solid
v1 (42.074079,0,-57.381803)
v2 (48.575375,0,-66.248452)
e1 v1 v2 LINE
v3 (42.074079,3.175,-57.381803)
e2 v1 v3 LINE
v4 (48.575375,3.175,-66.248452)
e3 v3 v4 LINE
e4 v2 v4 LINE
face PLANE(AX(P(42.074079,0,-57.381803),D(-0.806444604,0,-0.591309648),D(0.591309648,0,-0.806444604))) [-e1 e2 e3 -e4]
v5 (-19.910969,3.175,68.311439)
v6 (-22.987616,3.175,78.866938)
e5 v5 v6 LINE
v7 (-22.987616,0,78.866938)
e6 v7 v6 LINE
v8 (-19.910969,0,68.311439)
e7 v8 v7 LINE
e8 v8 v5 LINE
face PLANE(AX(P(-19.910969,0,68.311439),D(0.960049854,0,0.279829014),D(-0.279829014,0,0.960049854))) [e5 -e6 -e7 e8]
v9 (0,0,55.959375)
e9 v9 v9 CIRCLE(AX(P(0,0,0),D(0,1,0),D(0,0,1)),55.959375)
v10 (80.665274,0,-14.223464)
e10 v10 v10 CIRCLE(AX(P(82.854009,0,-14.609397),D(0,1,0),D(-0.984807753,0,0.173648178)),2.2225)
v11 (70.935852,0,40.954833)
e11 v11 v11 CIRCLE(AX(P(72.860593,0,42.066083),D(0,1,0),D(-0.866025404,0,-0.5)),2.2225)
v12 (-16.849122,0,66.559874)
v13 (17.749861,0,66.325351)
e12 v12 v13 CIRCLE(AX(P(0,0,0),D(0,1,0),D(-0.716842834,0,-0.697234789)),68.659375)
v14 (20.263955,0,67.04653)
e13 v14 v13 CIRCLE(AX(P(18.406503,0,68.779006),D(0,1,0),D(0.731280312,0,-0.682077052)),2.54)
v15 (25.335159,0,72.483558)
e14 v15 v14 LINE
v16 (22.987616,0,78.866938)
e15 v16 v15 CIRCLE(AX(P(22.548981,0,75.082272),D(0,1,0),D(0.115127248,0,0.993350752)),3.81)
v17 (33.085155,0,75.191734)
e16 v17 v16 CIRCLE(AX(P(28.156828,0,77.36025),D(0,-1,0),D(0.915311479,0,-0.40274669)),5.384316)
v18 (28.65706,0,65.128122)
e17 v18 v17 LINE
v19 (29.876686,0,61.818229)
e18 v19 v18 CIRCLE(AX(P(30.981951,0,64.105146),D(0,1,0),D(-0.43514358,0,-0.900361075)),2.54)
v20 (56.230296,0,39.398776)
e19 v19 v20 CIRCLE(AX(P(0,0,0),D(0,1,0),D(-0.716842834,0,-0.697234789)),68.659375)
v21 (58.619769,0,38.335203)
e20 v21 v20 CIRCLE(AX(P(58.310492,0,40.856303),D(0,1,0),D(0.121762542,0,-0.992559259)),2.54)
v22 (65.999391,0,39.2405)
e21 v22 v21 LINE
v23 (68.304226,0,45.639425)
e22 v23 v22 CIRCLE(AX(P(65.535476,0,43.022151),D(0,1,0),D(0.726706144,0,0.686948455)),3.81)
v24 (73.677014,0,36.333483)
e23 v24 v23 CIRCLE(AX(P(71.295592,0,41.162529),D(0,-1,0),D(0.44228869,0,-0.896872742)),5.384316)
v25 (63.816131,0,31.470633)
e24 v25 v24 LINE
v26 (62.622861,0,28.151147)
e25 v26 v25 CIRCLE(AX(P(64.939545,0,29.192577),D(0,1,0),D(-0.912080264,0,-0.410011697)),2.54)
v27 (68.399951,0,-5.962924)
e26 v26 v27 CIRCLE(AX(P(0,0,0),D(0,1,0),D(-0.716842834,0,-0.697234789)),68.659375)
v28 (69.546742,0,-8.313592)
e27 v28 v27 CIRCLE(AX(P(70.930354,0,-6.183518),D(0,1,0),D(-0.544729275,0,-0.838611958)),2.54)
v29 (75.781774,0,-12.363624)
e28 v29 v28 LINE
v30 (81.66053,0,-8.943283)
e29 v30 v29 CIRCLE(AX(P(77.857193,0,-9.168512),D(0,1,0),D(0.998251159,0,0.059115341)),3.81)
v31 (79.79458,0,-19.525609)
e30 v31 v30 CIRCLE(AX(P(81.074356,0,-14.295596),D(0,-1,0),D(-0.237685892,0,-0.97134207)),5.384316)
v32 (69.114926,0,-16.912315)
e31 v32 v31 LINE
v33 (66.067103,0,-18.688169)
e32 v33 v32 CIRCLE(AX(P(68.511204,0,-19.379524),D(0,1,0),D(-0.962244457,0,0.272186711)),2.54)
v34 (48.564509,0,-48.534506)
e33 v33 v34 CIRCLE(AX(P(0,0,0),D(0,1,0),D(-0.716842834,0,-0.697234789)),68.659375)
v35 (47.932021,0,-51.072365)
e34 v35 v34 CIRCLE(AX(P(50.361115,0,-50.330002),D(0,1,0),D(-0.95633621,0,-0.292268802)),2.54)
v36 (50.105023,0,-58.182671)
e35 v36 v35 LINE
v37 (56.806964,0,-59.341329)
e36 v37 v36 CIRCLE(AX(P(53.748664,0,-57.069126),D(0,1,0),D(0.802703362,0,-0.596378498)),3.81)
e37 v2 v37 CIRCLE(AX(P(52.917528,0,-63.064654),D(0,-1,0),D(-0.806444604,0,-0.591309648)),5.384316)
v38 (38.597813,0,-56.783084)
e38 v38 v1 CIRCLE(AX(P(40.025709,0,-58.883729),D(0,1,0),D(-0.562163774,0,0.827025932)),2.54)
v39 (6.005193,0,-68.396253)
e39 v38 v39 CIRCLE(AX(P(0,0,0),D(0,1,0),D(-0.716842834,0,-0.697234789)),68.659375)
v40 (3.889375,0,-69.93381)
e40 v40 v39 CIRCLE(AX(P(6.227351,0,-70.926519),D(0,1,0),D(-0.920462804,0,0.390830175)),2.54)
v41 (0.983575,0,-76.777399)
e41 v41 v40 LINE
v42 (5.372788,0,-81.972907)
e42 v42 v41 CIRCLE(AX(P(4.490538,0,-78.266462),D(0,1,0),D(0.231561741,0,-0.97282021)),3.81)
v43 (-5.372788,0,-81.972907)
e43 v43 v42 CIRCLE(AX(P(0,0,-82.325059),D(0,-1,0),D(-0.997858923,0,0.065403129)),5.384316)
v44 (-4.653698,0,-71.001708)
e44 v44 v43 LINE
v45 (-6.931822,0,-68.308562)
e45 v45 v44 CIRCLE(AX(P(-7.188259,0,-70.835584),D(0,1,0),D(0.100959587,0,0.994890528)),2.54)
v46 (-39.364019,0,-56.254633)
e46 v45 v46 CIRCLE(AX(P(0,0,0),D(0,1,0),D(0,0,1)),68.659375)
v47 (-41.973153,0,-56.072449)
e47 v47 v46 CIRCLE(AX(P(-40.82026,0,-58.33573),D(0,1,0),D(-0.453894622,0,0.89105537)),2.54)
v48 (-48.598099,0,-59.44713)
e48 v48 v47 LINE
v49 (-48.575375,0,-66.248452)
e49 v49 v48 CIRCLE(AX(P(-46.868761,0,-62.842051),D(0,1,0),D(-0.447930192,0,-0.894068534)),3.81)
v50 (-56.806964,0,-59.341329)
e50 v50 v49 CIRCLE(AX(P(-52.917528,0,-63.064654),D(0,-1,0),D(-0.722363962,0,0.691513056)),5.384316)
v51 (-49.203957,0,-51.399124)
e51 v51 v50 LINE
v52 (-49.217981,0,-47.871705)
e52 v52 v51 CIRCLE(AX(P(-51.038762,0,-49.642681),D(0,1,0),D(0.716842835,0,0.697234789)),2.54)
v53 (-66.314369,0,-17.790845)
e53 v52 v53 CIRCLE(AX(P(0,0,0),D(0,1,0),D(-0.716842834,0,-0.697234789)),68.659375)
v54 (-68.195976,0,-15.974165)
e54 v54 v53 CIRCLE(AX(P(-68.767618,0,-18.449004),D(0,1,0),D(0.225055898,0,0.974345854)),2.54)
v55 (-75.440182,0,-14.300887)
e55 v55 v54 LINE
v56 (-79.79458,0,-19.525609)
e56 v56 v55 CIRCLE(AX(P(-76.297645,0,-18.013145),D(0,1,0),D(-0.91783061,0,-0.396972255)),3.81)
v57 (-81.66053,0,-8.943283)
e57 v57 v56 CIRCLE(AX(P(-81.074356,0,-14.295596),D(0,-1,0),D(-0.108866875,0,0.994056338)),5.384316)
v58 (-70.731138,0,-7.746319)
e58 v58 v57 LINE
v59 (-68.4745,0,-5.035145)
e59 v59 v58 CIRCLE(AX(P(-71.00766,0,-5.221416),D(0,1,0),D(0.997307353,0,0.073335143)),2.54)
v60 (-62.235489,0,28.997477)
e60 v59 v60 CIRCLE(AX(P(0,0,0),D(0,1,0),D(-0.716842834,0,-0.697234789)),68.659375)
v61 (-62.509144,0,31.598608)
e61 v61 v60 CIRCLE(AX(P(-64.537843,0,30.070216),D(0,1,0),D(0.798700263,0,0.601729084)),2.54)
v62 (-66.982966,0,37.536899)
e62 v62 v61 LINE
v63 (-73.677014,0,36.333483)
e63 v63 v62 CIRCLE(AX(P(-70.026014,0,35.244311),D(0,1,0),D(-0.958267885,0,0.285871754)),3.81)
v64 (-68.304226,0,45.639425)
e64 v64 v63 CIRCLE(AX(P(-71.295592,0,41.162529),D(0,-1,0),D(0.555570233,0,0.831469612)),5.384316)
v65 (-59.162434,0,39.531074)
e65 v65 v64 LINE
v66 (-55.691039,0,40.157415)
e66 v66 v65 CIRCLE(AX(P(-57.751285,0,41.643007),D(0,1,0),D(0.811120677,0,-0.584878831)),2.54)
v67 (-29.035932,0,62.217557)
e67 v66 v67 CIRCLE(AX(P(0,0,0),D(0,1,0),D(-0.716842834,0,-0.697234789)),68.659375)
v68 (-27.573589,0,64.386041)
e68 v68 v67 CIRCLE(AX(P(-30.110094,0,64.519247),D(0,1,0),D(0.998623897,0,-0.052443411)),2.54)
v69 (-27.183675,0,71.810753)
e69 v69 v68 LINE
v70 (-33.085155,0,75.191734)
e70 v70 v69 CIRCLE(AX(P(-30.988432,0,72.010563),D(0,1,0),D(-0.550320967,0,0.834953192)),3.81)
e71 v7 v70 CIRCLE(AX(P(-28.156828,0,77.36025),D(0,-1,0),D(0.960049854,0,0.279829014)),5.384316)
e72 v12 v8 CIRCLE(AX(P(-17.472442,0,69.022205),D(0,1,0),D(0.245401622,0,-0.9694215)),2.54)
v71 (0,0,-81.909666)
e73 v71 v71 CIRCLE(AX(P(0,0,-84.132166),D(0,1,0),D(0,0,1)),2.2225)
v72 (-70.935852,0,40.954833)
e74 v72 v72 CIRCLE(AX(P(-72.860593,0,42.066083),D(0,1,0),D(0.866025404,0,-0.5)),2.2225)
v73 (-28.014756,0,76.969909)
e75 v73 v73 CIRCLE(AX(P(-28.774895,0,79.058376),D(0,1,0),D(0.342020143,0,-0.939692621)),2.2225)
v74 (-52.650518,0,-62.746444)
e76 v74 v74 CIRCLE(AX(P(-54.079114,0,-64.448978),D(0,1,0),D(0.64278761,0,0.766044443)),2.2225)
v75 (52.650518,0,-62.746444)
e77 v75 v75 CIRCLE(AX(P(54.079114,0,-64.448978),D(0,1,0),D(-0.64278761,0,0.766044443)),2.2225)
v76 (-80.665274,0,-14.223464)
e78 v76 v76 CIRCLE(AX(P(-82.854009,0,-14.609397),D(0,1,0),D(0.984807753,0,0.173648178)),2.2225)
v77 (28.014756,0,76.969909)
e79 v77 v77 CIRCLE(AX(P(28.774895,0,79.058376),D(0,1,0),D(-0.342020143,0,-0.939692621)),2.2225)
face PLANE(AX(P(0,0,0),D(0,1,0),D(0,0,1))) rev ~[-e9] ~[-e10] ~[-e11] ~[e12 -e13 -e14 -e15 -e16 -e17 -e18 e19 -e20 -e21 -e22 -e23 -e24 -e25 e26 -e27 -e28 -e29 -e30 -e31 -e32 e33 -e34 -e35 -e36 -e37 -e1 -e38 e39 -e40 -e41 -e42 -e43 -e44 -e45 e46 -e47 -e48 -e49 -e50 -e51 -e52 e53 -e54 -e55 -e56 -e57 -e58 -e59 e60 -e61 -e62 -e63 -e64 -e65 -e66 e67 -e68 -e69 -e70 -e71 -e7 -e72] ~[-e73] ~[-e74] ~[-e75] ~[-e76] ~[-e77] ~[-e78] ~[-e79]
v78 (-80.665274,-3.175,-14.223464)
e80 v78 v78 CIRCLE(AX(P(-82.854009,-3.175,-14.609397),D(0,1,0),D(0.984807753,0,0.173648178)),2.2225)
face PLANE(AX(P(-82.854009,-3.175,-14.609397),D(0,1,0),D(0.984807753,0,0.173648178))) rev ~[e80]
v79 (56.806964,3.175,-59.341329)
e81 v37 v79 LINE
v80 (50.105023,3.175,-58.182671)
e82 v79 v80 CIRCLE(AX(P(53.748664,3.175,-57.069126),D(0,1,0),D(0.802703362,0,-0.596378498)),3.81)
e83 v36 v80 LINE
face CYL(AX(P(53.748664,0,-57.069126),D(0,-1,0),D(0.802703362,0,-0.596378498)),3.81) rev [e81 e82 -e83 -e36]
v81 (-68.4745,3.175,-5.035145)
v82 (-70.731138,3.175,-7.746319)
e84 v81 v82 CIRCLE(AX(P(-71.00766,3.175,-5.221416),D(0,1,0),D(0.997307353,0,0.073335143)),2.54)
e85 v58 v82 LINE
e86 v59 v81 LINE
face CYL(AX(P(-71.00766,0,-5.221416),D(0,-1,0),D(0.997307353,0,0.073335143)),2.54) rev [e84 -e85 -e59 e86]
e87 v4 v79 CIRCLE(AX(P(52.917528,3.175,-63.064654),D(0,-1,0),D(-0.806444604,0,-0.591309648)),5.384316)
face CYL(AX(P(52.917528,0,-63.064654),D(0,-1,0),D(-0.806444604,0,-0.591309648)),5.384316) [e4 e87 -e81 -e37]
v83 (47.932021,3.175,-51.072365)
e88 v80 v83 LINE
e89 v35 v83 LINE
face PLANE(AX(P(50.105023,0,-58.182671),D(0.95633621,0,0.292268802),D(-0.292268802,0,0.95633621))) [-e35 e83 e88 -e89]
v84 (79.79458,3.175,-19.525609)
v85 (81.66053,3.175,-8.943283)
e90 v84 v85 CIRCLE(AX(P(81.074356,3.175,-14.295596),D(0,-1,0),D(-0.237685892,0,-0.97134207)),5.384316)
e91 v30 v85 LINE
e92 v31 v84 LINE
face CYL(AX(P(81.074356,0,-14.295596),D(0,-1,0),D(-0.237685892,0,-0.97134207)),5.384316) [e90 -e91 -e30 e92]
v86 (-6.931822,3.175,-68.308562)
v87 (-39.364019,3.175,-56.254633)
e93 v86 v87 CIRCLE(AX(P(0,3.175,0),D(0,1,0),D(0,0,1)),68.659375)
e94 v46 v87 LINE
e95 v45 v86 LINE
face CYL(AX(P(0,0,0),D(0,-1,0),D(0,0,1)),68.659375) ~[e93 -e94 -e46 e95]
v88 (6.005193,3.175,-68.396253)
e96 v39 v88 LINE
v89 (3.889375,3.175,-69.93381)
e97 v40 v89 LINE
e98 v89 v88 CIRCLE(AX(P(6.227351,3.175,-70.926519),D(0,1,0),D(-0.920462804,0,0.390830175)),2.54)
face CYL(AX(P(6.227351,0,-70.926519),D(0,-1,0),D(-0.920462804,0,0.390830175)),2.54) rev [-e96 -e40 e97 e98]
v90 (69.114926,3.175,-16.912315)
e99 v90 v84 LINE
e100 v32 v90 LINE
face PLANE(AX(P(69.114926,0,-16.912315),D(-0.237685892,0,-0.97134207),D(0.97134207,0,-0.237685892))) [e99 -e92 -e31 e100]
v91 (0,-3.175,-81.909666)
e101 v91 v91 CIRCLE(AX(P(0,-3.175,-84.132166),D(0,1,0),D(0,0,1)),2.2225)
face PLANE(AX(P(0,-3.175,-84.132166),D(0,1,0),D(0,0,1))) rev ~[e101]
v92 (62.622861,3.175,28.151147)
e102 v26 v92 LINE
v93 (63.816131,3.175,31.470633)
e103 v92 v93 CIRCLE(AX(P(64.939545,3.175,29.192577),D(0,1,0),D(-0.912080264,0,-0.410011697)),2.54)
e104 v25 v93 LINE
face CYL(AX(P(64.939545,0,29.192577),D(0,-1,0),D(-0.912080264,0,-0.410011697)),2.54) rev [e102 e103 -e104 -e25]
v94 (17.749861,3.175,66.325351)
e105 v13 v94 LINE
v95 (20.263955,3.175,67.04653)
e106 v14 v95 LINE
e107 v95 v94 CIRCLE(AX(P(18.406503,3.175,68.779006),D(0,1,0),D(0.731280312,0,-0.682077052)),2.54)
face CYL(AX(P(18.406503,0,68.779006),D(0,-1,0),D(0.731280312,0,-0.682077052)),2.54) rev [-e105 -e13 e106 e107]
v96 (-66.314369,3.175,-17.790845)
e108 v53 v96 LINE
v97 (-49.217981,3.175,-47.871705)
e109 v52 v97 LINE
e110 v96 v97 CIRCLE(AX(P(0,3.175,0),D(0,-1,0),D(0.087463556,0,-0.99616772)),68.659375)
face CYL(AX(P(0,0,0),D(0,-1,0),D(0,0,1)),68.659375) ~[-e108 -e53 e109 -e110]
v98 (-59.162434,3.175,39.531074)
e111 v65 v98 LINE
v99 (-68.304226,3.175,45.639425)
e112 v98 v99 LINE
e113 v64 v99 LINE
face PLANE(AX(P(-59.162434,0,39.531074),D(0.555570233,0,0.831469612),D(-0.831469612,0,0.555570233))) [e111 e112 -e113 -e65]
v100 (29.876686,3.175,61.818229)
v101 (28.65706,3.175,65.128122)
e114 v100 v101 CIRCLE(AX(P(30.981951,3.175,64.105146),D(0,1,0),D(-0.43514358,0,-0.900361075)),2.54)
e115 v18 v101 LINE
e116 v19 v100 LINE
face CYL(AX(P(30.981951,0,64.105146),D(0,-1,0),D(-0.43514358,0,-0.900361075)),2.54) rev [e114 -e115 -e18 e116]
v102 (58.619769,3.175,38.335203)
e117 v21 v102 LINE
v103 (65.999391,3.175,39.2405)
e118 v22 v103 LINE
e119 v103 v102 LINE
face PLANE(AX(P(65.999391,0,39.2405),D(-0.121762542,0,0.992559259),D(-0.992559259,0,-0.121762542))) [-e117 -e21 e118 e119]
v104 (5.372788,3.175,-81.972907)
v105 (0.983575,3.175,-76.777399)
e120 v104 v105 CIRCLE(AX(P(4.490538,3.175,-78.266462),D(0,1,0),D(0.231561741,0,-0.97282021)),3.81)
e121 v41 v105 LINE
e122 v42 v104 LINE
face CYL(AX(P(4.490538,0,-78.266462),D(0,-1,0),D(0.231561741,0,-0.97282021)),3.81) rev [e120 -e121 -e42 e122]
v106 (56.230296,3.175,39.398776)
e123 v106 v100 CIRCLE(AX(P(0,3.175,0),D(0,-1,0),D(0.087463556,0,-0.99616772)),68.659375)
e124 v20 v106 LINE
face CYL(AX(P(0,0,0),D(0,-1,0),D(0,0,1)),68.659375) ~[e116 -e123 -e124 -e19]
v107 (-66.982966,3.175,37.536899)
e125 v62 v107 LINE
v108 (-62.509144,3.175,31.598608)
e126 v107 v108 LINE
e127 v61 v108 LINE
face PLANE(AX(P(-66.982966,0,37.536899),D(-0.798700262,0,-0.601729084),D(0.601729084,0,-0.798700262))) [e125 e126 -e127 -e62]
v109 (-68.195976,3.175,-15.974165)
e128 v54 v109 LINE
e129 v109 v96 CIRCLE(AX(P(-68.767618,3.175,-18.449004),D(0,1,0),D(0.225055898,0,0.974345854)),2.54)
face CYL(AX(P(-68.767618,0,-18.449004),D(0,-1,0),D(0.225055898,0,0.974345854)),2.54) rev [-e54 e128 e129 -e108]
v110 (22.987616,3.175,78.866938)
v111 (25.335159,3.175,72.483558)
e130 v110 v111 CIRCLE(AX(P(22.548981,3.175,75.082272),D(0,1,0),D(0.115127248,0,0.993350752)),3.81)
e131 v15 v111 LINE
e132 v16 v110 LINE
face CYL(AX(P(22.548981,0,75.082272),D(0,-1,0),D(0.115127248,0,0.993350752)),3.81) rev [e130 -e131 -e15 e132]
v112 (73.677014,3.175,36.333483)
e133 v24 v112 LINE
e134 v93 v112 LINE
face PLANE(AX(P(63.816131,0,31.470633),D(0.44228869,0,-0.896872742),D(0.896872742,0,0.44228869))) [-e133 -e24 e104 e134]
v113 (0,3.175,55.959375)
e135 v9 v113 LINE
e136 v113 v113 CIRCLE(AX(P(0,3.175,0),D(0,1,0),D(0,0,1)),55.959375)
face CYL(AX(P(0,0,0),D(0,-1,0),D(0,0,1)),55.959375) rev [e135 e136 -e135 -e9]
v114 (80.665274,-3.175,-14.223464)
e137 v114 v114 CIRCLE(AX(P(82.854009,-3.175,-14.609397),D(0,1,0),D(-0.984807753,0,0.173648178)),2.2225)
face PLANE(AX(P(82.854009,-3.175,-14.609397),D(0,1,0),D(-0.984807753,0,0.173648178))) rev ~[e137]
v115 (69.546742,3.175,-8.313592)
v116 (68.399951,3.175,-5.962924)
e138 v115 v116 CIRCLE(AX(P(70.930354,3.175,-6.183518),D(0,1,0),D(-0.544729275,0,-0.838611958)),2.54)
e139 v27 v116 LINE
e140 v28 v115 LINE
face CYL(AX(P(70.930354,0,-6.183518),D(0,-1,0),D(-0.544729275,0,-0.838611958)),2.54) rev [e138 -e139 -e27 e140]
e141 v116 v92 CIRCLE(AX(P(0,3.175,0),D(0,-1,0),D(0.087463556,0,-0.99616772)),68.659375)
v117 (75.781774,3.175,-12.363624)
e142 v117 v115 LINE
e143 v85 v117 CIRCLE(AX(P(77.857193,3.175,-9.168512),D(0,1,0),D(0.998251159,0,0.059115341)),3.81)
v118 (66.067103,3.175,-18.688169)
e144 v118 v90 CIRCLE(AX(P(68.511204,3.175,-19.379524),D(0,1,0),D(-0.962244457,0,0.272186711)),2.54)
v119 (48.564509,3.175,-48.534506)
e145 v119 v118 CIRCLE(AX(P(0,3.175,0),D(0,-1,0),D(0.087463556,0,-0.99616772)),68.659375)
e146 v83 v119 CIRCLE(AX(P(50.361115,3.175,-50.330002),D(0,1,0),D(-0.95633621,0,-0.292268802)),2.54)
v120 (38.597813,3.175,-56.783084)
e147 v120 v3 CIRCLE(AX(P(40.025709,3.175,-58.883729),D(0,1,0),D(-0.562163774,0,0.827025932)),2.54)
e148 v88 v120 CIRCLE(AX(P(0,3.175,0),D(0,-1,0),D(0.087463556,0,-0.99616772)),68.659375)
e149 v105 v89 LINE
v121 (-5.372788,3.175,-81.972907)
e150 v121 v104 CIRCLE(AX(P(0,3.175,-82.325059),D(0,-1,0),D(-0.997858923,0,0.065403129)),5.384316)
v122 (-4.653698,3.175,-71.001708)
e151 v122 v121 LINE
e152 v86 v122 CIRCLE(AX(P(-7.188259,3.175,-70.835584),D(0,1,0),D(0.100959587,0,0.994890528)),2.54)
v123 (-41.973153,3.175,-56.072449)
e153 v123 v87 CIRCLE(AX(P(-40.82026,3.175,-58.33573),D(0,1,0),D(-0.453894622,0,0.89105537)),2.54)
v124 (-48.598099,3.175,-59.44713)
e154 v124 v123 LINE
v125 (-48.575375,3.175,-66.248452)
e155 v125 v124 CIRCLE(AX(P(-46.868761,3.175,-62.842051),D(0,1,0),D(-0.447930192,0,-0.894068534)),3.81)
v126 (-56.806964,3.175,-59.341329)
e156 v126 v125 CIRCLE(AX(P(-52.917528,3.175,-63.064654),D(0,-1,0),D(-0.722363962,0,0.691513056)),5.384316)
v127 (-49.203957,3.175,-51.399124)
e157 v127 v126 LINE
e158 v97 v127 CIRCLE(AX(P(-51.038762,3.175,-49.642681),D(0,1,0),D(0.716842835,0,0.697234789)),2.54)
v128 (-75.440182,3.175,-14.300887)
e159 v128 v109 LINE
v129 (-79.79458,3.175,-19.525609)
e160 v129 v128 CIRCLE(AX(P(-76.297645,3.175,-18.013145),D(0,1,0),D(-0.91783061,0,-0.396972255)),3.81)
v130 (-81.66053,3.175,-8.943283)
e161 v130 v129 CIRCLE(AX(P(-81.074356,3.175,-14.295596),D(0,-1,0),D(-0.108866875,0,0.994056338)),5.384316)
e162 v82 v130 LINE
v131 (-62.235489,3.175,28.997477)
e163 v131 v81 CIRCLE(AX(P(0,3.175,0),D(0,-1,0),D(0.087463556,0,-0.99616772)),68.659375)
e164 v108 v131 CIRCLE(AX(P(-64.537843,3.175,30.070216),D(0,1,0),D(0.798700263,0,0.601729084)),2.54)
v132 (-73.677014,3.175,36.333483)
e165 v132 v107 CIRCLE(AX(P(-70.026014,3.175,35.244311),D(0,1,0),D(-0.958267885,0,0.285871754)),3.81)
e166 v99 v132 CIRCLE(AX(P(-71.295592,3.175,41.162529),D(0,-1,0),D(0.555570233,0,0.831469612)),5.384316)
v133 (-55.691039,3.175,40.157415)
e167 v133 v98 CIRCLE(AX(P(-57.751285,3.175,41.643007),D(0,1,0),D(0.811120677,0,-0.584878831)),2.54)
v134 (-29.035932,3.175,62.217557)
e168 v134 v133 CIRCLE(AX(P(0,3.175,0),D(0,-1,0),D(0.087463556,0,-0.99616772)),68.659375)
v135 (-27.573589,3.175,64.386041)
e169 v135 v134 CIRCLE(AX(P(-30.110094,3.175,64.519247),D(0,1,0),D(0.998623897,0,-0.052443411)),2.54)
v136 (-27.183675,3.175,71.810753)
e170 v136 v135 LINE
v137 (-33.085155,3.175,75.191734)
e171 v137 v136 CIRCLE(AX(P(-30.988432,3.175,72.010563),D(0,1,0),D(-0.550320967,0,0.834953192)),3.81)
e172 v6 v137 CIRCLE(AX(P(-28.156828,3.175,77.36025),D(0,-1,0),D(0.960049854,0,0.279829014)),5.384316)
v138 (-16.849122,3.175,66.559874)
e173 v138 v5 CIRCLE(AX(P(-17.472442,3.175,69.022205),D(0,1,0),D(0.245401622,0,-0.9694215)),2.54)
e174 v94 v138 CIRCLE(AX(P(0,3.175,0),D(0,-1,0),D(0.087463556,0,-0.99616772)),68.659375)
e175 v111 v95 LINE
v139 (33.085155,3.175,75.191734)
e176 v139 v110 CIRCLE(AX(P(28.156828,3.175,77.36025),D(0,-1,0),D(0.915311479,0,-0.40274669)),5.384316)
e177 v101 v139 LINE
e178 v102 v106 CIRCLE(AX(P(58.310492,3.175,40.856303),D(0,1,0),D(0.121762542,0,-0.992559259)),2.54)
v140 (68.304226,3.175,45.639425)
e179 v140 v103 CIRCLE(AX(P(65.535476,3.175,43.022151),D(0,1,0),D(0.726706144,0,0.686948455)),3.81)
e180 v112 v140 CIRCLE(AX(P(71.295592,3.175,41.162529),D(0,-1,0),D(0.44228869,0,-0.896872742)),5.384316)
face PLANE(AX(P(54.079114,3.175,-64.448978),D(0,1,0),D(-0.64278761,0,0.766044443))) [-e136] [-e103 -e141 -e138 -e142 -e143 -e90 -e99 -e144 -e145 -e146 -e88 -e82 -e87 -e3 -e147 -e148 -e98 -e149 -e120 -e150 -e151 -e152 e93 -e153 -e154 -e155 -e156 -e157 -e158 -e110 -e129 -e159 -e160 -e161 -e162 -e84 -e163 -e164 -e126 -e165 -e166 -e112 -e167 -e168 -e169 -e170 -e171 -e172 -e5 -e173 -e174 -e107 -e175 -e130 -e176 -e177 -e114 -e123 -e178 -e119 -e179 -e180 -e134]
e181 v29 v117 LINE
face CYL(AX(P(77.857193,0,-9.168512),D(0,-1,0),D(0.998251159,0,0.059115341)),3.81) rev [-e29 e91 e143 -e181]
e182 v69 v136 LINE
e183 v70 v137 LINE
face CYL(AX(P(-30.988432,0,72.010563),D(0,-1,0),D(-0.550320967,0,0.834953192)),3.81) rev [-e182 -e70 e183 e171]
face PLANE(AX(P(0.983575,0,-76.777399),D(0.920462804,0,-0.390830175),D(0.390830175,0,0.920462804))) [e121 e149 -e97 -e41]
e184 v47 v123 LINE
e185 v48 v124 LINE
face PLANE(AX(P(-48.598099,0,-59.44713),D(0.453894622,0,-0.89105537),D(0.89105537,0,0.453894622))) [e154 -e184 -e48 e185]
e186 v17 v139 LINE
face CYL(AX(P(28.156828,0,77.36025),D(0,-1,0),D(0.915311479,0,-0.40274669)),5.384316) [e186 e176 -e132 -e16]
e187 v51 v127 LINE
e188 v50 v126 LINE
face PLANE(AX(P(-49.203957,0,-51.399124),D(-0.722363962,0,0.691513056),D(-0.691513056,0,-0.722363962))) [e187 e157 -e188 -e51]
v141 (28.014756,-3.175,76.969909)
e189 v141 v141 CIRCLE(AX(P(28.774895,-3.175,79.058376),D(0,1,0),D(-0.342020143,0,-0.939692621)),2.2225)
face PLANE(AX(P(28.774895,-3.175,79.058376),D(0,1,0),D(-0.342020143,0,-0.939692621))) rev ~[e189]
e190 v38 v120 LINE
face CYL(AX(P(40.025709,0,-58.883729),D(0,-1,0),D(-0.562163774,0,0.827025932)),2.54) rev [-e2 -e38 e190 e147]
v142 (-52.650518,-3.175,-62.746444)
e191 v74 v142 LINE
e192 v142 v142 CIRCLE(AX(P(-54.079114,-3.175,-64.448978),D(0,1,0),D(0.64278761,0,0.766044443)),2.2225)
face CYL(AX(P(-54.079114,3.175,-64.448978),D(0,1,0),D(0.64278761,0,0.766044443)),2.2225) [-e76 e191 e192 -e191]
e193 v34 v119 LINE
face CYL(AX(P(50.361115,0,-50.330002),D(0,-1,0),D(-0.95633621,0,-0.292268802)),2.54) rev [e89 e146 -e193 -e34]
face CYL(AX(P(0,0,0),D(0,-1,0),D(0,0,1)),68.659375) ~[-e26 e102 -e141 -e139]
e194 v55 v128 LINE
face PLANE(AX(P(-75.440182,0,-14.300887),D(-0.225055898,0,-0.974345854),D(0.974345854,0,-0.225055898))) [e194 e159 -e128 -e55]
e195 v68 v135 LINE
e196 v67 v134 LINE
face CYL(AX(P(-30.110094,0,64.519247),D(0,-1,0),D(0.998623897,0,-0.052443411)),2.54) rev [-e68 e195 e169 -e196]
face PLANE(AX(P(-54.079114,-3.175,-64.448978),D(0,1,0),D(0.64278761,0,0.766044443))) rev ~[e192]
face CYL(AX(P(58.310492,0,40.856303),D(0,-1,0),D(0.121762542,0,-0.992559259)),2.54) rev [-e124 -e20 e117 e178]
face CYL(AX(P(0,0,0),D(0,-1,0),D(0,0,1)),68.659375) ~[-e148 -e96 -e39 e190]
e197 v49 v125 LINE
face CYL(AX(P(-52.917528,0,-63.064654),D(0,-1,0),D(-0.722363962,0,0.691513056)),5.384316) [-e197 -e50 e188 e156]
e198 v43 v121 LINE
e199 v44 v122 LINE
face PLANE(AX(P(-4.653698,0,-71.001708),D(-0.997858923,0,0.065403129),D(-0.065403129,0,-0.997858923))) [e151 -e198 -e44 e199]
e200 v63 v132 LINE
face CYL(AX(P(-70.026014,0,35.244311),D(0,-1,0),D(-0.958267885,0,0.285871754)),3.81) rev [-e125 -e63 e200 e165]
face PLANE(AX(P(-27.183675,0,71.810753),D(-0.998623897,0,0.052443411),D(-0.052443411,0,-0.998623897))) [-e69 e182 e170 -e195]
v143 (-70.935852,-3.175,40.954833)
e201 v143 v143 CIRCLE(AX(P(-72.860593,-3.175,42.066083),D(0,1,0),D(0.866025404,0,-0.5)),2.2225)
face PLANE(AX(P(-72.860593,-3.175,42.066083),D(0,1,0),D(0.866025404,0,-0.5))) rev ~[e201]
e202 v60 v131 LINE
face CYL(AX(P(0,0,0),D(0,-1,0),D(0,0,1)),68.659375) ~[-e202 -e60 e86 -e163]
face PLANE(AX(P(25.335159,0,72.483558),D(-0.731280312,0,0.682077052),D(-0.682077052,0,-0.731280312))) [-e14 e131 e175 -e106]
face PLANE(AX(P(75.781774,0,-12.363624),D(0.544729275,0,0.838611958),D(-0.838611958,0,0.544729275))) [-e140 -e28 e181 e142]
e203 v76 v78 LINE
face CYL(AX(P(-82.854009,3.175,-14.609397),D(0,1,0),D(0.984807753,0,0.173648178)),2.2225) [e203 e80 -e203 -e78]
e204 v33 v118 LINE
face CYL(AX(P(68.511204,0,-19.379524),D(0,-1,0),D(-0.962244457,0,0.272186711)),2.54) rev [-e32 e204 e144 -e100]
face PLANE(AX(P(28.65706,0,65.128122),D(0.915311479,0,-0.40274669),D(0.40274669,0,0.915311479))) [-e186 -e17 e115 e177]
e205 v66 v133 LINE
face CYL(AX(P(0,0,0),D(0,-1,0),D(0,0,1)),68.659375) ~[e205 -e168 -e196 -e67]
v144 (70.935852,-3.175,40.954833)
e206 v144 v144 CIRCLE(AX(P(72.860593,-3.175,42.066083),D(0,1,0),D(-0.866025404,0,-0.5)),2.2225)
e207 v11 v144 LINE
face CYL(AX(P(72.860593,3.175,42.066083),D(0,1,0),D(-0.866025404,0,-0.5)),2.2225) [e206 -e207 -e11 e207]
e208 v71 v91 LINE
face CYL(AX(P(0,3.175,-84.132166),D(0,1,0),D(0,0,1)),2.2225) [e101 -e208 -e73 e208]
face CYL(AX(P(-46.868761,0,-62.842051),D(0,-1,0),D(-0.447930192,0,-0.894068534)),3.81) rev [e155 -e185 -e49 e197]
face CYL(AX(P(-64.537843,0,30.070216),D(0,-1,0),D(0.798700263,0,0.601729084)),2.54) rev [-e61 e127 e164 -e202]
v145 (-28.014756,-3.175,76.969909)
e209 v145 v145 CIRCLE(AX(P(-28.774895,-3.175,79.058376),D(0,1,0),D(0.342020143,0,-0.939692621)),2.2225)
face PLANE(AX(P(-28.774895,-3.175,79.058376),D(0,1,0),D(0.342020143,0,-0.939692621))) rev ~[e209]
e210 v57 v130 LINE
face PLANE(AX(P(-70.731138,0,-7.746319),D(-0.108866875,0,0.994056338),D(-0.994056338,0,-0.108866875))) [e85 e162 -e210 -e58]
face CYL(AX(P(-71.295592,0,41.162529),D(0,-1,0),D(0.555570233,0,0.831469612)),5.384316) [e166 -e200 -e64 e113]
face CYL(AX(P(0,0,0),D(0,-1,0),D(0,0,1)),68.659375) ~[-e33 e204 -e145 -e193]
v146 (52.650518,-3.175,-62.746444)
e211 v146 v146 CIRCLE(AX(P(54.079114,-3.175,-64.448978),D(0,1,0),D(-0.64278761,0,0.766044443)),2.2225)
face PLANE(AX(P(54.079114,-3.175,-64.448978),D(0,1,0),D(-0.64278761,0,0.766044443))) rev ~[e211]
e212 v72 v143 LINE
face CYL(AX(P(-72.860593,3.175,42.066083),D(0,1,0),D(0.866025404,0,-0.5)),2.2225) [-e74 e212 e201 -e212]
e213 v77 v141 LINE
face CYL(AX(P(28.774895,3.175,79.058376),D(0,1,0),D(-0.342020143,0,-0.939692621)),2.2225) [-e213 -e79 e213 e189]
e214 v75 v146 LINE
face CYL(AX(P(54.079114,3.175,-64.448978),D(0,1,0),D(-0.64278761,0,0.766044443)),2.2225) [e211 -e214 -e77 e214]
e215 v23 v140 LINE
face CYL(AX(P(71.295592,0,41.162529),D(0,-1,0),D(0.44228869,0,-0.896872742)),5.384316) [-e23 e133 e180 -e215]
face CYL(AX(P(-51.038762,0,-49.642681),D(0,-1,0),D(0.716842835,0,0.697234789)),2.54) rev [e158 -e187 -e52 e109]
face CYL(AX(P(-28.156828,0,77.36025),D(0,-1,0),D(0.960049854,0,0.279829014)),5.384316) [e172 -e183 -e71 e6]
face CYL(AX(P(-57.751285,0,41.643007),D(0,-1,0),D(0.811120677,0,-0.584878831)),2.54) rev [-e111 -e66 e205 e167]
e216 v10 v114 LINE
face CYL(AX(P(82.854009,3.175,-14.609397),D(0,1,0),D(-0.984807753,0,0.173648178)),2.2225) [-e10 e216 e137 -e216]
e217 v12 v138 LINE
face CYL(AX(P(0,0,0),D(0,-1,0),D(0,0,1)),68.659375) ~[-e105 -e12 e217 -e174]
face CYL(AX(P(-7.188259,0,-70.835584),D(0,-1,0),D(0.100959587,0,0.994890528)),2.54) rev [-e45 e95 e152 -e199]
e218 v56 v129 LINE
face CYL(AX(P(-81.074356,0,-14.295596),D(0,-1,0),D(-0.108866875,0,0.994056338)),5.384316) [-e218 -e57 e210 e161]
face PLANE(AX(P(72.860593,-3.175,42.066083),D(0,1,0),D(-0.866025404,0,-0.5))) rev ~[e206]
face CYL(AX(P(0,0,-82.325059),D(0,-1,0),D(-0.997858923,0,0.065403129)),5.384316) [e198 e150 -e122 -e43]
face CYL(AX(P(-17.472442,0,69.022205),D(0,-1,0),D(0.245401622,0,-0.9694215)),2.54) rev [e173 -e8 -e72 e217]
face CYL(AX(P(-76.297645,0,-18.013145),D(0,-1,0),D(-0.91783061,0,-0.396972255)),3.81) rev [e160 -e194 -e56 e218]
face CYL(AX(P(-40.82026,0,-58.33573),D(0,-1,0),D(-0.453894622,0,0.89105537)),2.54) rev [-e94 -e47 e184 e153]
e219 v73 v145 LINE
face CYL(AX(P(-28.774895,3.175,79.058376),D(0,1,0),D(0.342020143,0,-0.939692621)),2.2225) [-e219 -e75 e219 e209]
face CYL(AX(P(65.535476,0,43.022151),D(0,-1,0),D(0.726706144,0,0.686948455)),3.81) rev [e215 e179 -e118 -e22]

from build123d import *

# Parameters (mm, degrees)
SKETCH1_R           = 68.659375
SKETCH1_R_2         = 55.959375
BOSS_EXTRUDE1_DEPTH = 3.175
BOSS_EXTRUDE2_START = -3.175
BOSS_EXTRUDE2_DEPTH = 3.175
CIRPATTERN1_COUNT   = 9
SKETCH3_R           = 2.2225
BOSS_EXTRUDE3_DEPTH = 6.35
CIRPATTERN13_COUNT  = 9


with BuildPart() as part:
    # Sketch1 → Boss-Extrude1 (new body)
    with BuildSketch(Plane(origin=(0, 0, 0), x_dir=(1, 0, 0), z_dir=(0, 1, 0))):
        with Locations(Location((0, 0, 0), (0, 0, 270))):
            Circle(SKETCH1_R)
        with Locations(Location((0, 0, 0), (0, 0, 270))):
            Circle(SKETCH1_R_2, mode=Mode.SUBTRACT)
    extrude(amount=BOSS_EXTRUDE1_DEPTH)

    # Sketch2 → Boss-Extrude2 (add)
    with BuildSketch(Plane(origin=(0, 3.175, 0), x_dir=(1, 0, 0), z_dir=(0, 1, 0)).offset(BOSS_EXTRUDE2_START)):
        with BuildLine():
            Line((-4.653697789, 71.001707707), (-5.372788209, 81.972907412))
            ThreePointArc((-5.372788209, 81.972907412), (0, 87.709375), (5.372788209, 81.972907412))
            ThreePointArc((5.372788209, 81.972907412), (1.580107525, 80.725221164), (0.983574692, 76.777399446))
            Line((0.983574692, 76.777399446), (3.889375, 69.933810414))
            ThreePointArc((3.889375, 69.933810414), (4.734169071, 68.871766239), (6.005193091, 68.39625305))
            ThreePointArc((6.005193091, 68.39625305), (-0.46538454, 68.657797755), (-6.931822104, 68.308561818))
            ThreePointArc((-6.931822104, 68.308561818), (-5.249012804, 69.195180628), (-4.653697789, 71.001707707))
        make_face()
    boss_extrude2 = extrude(amount=BOSS_EXTRUDE2_DEPTH)

    # CirPattern1: Boss-Extrude2 ×9 about axis
    cirpattern1_axis = Axis((0, 0, 0), (0, 1, 0))
    for i in range(1, CIRPATTERN1_COUNT):
        add(boss_extrude2.rotate(cirpattern1_axis, i * 360 / CIRPATTERN1_COUNT))

    # Sketch3 → Boss-Extrude3 (add)
    with BuildSketch(Plane(origin=(0, 3.175, 0), x_dir=(1, 0, 0), z_dir=(0, 1, 0))):
        with Locations(Location((0, 84.132166, 0), (0, 0, 270))):
            Circle(SKETCH3_R)
    boss_extrude3 = extrude(amount=-BOSS_EXTRUDE3_DEPTH)

    # CirPattern13: Boss-Extrude3 ×9 about axis
    cirpattern13_axis = Axis((0, 0, 0), (0, 1, 0))
    for i in range(1, CIRPATTERN13_COUNT):
        add(boss_extrude3.rotate(cirpattern13_axis, i * 360 / CIRPATTERN13_COUNT))


solid = part.part
